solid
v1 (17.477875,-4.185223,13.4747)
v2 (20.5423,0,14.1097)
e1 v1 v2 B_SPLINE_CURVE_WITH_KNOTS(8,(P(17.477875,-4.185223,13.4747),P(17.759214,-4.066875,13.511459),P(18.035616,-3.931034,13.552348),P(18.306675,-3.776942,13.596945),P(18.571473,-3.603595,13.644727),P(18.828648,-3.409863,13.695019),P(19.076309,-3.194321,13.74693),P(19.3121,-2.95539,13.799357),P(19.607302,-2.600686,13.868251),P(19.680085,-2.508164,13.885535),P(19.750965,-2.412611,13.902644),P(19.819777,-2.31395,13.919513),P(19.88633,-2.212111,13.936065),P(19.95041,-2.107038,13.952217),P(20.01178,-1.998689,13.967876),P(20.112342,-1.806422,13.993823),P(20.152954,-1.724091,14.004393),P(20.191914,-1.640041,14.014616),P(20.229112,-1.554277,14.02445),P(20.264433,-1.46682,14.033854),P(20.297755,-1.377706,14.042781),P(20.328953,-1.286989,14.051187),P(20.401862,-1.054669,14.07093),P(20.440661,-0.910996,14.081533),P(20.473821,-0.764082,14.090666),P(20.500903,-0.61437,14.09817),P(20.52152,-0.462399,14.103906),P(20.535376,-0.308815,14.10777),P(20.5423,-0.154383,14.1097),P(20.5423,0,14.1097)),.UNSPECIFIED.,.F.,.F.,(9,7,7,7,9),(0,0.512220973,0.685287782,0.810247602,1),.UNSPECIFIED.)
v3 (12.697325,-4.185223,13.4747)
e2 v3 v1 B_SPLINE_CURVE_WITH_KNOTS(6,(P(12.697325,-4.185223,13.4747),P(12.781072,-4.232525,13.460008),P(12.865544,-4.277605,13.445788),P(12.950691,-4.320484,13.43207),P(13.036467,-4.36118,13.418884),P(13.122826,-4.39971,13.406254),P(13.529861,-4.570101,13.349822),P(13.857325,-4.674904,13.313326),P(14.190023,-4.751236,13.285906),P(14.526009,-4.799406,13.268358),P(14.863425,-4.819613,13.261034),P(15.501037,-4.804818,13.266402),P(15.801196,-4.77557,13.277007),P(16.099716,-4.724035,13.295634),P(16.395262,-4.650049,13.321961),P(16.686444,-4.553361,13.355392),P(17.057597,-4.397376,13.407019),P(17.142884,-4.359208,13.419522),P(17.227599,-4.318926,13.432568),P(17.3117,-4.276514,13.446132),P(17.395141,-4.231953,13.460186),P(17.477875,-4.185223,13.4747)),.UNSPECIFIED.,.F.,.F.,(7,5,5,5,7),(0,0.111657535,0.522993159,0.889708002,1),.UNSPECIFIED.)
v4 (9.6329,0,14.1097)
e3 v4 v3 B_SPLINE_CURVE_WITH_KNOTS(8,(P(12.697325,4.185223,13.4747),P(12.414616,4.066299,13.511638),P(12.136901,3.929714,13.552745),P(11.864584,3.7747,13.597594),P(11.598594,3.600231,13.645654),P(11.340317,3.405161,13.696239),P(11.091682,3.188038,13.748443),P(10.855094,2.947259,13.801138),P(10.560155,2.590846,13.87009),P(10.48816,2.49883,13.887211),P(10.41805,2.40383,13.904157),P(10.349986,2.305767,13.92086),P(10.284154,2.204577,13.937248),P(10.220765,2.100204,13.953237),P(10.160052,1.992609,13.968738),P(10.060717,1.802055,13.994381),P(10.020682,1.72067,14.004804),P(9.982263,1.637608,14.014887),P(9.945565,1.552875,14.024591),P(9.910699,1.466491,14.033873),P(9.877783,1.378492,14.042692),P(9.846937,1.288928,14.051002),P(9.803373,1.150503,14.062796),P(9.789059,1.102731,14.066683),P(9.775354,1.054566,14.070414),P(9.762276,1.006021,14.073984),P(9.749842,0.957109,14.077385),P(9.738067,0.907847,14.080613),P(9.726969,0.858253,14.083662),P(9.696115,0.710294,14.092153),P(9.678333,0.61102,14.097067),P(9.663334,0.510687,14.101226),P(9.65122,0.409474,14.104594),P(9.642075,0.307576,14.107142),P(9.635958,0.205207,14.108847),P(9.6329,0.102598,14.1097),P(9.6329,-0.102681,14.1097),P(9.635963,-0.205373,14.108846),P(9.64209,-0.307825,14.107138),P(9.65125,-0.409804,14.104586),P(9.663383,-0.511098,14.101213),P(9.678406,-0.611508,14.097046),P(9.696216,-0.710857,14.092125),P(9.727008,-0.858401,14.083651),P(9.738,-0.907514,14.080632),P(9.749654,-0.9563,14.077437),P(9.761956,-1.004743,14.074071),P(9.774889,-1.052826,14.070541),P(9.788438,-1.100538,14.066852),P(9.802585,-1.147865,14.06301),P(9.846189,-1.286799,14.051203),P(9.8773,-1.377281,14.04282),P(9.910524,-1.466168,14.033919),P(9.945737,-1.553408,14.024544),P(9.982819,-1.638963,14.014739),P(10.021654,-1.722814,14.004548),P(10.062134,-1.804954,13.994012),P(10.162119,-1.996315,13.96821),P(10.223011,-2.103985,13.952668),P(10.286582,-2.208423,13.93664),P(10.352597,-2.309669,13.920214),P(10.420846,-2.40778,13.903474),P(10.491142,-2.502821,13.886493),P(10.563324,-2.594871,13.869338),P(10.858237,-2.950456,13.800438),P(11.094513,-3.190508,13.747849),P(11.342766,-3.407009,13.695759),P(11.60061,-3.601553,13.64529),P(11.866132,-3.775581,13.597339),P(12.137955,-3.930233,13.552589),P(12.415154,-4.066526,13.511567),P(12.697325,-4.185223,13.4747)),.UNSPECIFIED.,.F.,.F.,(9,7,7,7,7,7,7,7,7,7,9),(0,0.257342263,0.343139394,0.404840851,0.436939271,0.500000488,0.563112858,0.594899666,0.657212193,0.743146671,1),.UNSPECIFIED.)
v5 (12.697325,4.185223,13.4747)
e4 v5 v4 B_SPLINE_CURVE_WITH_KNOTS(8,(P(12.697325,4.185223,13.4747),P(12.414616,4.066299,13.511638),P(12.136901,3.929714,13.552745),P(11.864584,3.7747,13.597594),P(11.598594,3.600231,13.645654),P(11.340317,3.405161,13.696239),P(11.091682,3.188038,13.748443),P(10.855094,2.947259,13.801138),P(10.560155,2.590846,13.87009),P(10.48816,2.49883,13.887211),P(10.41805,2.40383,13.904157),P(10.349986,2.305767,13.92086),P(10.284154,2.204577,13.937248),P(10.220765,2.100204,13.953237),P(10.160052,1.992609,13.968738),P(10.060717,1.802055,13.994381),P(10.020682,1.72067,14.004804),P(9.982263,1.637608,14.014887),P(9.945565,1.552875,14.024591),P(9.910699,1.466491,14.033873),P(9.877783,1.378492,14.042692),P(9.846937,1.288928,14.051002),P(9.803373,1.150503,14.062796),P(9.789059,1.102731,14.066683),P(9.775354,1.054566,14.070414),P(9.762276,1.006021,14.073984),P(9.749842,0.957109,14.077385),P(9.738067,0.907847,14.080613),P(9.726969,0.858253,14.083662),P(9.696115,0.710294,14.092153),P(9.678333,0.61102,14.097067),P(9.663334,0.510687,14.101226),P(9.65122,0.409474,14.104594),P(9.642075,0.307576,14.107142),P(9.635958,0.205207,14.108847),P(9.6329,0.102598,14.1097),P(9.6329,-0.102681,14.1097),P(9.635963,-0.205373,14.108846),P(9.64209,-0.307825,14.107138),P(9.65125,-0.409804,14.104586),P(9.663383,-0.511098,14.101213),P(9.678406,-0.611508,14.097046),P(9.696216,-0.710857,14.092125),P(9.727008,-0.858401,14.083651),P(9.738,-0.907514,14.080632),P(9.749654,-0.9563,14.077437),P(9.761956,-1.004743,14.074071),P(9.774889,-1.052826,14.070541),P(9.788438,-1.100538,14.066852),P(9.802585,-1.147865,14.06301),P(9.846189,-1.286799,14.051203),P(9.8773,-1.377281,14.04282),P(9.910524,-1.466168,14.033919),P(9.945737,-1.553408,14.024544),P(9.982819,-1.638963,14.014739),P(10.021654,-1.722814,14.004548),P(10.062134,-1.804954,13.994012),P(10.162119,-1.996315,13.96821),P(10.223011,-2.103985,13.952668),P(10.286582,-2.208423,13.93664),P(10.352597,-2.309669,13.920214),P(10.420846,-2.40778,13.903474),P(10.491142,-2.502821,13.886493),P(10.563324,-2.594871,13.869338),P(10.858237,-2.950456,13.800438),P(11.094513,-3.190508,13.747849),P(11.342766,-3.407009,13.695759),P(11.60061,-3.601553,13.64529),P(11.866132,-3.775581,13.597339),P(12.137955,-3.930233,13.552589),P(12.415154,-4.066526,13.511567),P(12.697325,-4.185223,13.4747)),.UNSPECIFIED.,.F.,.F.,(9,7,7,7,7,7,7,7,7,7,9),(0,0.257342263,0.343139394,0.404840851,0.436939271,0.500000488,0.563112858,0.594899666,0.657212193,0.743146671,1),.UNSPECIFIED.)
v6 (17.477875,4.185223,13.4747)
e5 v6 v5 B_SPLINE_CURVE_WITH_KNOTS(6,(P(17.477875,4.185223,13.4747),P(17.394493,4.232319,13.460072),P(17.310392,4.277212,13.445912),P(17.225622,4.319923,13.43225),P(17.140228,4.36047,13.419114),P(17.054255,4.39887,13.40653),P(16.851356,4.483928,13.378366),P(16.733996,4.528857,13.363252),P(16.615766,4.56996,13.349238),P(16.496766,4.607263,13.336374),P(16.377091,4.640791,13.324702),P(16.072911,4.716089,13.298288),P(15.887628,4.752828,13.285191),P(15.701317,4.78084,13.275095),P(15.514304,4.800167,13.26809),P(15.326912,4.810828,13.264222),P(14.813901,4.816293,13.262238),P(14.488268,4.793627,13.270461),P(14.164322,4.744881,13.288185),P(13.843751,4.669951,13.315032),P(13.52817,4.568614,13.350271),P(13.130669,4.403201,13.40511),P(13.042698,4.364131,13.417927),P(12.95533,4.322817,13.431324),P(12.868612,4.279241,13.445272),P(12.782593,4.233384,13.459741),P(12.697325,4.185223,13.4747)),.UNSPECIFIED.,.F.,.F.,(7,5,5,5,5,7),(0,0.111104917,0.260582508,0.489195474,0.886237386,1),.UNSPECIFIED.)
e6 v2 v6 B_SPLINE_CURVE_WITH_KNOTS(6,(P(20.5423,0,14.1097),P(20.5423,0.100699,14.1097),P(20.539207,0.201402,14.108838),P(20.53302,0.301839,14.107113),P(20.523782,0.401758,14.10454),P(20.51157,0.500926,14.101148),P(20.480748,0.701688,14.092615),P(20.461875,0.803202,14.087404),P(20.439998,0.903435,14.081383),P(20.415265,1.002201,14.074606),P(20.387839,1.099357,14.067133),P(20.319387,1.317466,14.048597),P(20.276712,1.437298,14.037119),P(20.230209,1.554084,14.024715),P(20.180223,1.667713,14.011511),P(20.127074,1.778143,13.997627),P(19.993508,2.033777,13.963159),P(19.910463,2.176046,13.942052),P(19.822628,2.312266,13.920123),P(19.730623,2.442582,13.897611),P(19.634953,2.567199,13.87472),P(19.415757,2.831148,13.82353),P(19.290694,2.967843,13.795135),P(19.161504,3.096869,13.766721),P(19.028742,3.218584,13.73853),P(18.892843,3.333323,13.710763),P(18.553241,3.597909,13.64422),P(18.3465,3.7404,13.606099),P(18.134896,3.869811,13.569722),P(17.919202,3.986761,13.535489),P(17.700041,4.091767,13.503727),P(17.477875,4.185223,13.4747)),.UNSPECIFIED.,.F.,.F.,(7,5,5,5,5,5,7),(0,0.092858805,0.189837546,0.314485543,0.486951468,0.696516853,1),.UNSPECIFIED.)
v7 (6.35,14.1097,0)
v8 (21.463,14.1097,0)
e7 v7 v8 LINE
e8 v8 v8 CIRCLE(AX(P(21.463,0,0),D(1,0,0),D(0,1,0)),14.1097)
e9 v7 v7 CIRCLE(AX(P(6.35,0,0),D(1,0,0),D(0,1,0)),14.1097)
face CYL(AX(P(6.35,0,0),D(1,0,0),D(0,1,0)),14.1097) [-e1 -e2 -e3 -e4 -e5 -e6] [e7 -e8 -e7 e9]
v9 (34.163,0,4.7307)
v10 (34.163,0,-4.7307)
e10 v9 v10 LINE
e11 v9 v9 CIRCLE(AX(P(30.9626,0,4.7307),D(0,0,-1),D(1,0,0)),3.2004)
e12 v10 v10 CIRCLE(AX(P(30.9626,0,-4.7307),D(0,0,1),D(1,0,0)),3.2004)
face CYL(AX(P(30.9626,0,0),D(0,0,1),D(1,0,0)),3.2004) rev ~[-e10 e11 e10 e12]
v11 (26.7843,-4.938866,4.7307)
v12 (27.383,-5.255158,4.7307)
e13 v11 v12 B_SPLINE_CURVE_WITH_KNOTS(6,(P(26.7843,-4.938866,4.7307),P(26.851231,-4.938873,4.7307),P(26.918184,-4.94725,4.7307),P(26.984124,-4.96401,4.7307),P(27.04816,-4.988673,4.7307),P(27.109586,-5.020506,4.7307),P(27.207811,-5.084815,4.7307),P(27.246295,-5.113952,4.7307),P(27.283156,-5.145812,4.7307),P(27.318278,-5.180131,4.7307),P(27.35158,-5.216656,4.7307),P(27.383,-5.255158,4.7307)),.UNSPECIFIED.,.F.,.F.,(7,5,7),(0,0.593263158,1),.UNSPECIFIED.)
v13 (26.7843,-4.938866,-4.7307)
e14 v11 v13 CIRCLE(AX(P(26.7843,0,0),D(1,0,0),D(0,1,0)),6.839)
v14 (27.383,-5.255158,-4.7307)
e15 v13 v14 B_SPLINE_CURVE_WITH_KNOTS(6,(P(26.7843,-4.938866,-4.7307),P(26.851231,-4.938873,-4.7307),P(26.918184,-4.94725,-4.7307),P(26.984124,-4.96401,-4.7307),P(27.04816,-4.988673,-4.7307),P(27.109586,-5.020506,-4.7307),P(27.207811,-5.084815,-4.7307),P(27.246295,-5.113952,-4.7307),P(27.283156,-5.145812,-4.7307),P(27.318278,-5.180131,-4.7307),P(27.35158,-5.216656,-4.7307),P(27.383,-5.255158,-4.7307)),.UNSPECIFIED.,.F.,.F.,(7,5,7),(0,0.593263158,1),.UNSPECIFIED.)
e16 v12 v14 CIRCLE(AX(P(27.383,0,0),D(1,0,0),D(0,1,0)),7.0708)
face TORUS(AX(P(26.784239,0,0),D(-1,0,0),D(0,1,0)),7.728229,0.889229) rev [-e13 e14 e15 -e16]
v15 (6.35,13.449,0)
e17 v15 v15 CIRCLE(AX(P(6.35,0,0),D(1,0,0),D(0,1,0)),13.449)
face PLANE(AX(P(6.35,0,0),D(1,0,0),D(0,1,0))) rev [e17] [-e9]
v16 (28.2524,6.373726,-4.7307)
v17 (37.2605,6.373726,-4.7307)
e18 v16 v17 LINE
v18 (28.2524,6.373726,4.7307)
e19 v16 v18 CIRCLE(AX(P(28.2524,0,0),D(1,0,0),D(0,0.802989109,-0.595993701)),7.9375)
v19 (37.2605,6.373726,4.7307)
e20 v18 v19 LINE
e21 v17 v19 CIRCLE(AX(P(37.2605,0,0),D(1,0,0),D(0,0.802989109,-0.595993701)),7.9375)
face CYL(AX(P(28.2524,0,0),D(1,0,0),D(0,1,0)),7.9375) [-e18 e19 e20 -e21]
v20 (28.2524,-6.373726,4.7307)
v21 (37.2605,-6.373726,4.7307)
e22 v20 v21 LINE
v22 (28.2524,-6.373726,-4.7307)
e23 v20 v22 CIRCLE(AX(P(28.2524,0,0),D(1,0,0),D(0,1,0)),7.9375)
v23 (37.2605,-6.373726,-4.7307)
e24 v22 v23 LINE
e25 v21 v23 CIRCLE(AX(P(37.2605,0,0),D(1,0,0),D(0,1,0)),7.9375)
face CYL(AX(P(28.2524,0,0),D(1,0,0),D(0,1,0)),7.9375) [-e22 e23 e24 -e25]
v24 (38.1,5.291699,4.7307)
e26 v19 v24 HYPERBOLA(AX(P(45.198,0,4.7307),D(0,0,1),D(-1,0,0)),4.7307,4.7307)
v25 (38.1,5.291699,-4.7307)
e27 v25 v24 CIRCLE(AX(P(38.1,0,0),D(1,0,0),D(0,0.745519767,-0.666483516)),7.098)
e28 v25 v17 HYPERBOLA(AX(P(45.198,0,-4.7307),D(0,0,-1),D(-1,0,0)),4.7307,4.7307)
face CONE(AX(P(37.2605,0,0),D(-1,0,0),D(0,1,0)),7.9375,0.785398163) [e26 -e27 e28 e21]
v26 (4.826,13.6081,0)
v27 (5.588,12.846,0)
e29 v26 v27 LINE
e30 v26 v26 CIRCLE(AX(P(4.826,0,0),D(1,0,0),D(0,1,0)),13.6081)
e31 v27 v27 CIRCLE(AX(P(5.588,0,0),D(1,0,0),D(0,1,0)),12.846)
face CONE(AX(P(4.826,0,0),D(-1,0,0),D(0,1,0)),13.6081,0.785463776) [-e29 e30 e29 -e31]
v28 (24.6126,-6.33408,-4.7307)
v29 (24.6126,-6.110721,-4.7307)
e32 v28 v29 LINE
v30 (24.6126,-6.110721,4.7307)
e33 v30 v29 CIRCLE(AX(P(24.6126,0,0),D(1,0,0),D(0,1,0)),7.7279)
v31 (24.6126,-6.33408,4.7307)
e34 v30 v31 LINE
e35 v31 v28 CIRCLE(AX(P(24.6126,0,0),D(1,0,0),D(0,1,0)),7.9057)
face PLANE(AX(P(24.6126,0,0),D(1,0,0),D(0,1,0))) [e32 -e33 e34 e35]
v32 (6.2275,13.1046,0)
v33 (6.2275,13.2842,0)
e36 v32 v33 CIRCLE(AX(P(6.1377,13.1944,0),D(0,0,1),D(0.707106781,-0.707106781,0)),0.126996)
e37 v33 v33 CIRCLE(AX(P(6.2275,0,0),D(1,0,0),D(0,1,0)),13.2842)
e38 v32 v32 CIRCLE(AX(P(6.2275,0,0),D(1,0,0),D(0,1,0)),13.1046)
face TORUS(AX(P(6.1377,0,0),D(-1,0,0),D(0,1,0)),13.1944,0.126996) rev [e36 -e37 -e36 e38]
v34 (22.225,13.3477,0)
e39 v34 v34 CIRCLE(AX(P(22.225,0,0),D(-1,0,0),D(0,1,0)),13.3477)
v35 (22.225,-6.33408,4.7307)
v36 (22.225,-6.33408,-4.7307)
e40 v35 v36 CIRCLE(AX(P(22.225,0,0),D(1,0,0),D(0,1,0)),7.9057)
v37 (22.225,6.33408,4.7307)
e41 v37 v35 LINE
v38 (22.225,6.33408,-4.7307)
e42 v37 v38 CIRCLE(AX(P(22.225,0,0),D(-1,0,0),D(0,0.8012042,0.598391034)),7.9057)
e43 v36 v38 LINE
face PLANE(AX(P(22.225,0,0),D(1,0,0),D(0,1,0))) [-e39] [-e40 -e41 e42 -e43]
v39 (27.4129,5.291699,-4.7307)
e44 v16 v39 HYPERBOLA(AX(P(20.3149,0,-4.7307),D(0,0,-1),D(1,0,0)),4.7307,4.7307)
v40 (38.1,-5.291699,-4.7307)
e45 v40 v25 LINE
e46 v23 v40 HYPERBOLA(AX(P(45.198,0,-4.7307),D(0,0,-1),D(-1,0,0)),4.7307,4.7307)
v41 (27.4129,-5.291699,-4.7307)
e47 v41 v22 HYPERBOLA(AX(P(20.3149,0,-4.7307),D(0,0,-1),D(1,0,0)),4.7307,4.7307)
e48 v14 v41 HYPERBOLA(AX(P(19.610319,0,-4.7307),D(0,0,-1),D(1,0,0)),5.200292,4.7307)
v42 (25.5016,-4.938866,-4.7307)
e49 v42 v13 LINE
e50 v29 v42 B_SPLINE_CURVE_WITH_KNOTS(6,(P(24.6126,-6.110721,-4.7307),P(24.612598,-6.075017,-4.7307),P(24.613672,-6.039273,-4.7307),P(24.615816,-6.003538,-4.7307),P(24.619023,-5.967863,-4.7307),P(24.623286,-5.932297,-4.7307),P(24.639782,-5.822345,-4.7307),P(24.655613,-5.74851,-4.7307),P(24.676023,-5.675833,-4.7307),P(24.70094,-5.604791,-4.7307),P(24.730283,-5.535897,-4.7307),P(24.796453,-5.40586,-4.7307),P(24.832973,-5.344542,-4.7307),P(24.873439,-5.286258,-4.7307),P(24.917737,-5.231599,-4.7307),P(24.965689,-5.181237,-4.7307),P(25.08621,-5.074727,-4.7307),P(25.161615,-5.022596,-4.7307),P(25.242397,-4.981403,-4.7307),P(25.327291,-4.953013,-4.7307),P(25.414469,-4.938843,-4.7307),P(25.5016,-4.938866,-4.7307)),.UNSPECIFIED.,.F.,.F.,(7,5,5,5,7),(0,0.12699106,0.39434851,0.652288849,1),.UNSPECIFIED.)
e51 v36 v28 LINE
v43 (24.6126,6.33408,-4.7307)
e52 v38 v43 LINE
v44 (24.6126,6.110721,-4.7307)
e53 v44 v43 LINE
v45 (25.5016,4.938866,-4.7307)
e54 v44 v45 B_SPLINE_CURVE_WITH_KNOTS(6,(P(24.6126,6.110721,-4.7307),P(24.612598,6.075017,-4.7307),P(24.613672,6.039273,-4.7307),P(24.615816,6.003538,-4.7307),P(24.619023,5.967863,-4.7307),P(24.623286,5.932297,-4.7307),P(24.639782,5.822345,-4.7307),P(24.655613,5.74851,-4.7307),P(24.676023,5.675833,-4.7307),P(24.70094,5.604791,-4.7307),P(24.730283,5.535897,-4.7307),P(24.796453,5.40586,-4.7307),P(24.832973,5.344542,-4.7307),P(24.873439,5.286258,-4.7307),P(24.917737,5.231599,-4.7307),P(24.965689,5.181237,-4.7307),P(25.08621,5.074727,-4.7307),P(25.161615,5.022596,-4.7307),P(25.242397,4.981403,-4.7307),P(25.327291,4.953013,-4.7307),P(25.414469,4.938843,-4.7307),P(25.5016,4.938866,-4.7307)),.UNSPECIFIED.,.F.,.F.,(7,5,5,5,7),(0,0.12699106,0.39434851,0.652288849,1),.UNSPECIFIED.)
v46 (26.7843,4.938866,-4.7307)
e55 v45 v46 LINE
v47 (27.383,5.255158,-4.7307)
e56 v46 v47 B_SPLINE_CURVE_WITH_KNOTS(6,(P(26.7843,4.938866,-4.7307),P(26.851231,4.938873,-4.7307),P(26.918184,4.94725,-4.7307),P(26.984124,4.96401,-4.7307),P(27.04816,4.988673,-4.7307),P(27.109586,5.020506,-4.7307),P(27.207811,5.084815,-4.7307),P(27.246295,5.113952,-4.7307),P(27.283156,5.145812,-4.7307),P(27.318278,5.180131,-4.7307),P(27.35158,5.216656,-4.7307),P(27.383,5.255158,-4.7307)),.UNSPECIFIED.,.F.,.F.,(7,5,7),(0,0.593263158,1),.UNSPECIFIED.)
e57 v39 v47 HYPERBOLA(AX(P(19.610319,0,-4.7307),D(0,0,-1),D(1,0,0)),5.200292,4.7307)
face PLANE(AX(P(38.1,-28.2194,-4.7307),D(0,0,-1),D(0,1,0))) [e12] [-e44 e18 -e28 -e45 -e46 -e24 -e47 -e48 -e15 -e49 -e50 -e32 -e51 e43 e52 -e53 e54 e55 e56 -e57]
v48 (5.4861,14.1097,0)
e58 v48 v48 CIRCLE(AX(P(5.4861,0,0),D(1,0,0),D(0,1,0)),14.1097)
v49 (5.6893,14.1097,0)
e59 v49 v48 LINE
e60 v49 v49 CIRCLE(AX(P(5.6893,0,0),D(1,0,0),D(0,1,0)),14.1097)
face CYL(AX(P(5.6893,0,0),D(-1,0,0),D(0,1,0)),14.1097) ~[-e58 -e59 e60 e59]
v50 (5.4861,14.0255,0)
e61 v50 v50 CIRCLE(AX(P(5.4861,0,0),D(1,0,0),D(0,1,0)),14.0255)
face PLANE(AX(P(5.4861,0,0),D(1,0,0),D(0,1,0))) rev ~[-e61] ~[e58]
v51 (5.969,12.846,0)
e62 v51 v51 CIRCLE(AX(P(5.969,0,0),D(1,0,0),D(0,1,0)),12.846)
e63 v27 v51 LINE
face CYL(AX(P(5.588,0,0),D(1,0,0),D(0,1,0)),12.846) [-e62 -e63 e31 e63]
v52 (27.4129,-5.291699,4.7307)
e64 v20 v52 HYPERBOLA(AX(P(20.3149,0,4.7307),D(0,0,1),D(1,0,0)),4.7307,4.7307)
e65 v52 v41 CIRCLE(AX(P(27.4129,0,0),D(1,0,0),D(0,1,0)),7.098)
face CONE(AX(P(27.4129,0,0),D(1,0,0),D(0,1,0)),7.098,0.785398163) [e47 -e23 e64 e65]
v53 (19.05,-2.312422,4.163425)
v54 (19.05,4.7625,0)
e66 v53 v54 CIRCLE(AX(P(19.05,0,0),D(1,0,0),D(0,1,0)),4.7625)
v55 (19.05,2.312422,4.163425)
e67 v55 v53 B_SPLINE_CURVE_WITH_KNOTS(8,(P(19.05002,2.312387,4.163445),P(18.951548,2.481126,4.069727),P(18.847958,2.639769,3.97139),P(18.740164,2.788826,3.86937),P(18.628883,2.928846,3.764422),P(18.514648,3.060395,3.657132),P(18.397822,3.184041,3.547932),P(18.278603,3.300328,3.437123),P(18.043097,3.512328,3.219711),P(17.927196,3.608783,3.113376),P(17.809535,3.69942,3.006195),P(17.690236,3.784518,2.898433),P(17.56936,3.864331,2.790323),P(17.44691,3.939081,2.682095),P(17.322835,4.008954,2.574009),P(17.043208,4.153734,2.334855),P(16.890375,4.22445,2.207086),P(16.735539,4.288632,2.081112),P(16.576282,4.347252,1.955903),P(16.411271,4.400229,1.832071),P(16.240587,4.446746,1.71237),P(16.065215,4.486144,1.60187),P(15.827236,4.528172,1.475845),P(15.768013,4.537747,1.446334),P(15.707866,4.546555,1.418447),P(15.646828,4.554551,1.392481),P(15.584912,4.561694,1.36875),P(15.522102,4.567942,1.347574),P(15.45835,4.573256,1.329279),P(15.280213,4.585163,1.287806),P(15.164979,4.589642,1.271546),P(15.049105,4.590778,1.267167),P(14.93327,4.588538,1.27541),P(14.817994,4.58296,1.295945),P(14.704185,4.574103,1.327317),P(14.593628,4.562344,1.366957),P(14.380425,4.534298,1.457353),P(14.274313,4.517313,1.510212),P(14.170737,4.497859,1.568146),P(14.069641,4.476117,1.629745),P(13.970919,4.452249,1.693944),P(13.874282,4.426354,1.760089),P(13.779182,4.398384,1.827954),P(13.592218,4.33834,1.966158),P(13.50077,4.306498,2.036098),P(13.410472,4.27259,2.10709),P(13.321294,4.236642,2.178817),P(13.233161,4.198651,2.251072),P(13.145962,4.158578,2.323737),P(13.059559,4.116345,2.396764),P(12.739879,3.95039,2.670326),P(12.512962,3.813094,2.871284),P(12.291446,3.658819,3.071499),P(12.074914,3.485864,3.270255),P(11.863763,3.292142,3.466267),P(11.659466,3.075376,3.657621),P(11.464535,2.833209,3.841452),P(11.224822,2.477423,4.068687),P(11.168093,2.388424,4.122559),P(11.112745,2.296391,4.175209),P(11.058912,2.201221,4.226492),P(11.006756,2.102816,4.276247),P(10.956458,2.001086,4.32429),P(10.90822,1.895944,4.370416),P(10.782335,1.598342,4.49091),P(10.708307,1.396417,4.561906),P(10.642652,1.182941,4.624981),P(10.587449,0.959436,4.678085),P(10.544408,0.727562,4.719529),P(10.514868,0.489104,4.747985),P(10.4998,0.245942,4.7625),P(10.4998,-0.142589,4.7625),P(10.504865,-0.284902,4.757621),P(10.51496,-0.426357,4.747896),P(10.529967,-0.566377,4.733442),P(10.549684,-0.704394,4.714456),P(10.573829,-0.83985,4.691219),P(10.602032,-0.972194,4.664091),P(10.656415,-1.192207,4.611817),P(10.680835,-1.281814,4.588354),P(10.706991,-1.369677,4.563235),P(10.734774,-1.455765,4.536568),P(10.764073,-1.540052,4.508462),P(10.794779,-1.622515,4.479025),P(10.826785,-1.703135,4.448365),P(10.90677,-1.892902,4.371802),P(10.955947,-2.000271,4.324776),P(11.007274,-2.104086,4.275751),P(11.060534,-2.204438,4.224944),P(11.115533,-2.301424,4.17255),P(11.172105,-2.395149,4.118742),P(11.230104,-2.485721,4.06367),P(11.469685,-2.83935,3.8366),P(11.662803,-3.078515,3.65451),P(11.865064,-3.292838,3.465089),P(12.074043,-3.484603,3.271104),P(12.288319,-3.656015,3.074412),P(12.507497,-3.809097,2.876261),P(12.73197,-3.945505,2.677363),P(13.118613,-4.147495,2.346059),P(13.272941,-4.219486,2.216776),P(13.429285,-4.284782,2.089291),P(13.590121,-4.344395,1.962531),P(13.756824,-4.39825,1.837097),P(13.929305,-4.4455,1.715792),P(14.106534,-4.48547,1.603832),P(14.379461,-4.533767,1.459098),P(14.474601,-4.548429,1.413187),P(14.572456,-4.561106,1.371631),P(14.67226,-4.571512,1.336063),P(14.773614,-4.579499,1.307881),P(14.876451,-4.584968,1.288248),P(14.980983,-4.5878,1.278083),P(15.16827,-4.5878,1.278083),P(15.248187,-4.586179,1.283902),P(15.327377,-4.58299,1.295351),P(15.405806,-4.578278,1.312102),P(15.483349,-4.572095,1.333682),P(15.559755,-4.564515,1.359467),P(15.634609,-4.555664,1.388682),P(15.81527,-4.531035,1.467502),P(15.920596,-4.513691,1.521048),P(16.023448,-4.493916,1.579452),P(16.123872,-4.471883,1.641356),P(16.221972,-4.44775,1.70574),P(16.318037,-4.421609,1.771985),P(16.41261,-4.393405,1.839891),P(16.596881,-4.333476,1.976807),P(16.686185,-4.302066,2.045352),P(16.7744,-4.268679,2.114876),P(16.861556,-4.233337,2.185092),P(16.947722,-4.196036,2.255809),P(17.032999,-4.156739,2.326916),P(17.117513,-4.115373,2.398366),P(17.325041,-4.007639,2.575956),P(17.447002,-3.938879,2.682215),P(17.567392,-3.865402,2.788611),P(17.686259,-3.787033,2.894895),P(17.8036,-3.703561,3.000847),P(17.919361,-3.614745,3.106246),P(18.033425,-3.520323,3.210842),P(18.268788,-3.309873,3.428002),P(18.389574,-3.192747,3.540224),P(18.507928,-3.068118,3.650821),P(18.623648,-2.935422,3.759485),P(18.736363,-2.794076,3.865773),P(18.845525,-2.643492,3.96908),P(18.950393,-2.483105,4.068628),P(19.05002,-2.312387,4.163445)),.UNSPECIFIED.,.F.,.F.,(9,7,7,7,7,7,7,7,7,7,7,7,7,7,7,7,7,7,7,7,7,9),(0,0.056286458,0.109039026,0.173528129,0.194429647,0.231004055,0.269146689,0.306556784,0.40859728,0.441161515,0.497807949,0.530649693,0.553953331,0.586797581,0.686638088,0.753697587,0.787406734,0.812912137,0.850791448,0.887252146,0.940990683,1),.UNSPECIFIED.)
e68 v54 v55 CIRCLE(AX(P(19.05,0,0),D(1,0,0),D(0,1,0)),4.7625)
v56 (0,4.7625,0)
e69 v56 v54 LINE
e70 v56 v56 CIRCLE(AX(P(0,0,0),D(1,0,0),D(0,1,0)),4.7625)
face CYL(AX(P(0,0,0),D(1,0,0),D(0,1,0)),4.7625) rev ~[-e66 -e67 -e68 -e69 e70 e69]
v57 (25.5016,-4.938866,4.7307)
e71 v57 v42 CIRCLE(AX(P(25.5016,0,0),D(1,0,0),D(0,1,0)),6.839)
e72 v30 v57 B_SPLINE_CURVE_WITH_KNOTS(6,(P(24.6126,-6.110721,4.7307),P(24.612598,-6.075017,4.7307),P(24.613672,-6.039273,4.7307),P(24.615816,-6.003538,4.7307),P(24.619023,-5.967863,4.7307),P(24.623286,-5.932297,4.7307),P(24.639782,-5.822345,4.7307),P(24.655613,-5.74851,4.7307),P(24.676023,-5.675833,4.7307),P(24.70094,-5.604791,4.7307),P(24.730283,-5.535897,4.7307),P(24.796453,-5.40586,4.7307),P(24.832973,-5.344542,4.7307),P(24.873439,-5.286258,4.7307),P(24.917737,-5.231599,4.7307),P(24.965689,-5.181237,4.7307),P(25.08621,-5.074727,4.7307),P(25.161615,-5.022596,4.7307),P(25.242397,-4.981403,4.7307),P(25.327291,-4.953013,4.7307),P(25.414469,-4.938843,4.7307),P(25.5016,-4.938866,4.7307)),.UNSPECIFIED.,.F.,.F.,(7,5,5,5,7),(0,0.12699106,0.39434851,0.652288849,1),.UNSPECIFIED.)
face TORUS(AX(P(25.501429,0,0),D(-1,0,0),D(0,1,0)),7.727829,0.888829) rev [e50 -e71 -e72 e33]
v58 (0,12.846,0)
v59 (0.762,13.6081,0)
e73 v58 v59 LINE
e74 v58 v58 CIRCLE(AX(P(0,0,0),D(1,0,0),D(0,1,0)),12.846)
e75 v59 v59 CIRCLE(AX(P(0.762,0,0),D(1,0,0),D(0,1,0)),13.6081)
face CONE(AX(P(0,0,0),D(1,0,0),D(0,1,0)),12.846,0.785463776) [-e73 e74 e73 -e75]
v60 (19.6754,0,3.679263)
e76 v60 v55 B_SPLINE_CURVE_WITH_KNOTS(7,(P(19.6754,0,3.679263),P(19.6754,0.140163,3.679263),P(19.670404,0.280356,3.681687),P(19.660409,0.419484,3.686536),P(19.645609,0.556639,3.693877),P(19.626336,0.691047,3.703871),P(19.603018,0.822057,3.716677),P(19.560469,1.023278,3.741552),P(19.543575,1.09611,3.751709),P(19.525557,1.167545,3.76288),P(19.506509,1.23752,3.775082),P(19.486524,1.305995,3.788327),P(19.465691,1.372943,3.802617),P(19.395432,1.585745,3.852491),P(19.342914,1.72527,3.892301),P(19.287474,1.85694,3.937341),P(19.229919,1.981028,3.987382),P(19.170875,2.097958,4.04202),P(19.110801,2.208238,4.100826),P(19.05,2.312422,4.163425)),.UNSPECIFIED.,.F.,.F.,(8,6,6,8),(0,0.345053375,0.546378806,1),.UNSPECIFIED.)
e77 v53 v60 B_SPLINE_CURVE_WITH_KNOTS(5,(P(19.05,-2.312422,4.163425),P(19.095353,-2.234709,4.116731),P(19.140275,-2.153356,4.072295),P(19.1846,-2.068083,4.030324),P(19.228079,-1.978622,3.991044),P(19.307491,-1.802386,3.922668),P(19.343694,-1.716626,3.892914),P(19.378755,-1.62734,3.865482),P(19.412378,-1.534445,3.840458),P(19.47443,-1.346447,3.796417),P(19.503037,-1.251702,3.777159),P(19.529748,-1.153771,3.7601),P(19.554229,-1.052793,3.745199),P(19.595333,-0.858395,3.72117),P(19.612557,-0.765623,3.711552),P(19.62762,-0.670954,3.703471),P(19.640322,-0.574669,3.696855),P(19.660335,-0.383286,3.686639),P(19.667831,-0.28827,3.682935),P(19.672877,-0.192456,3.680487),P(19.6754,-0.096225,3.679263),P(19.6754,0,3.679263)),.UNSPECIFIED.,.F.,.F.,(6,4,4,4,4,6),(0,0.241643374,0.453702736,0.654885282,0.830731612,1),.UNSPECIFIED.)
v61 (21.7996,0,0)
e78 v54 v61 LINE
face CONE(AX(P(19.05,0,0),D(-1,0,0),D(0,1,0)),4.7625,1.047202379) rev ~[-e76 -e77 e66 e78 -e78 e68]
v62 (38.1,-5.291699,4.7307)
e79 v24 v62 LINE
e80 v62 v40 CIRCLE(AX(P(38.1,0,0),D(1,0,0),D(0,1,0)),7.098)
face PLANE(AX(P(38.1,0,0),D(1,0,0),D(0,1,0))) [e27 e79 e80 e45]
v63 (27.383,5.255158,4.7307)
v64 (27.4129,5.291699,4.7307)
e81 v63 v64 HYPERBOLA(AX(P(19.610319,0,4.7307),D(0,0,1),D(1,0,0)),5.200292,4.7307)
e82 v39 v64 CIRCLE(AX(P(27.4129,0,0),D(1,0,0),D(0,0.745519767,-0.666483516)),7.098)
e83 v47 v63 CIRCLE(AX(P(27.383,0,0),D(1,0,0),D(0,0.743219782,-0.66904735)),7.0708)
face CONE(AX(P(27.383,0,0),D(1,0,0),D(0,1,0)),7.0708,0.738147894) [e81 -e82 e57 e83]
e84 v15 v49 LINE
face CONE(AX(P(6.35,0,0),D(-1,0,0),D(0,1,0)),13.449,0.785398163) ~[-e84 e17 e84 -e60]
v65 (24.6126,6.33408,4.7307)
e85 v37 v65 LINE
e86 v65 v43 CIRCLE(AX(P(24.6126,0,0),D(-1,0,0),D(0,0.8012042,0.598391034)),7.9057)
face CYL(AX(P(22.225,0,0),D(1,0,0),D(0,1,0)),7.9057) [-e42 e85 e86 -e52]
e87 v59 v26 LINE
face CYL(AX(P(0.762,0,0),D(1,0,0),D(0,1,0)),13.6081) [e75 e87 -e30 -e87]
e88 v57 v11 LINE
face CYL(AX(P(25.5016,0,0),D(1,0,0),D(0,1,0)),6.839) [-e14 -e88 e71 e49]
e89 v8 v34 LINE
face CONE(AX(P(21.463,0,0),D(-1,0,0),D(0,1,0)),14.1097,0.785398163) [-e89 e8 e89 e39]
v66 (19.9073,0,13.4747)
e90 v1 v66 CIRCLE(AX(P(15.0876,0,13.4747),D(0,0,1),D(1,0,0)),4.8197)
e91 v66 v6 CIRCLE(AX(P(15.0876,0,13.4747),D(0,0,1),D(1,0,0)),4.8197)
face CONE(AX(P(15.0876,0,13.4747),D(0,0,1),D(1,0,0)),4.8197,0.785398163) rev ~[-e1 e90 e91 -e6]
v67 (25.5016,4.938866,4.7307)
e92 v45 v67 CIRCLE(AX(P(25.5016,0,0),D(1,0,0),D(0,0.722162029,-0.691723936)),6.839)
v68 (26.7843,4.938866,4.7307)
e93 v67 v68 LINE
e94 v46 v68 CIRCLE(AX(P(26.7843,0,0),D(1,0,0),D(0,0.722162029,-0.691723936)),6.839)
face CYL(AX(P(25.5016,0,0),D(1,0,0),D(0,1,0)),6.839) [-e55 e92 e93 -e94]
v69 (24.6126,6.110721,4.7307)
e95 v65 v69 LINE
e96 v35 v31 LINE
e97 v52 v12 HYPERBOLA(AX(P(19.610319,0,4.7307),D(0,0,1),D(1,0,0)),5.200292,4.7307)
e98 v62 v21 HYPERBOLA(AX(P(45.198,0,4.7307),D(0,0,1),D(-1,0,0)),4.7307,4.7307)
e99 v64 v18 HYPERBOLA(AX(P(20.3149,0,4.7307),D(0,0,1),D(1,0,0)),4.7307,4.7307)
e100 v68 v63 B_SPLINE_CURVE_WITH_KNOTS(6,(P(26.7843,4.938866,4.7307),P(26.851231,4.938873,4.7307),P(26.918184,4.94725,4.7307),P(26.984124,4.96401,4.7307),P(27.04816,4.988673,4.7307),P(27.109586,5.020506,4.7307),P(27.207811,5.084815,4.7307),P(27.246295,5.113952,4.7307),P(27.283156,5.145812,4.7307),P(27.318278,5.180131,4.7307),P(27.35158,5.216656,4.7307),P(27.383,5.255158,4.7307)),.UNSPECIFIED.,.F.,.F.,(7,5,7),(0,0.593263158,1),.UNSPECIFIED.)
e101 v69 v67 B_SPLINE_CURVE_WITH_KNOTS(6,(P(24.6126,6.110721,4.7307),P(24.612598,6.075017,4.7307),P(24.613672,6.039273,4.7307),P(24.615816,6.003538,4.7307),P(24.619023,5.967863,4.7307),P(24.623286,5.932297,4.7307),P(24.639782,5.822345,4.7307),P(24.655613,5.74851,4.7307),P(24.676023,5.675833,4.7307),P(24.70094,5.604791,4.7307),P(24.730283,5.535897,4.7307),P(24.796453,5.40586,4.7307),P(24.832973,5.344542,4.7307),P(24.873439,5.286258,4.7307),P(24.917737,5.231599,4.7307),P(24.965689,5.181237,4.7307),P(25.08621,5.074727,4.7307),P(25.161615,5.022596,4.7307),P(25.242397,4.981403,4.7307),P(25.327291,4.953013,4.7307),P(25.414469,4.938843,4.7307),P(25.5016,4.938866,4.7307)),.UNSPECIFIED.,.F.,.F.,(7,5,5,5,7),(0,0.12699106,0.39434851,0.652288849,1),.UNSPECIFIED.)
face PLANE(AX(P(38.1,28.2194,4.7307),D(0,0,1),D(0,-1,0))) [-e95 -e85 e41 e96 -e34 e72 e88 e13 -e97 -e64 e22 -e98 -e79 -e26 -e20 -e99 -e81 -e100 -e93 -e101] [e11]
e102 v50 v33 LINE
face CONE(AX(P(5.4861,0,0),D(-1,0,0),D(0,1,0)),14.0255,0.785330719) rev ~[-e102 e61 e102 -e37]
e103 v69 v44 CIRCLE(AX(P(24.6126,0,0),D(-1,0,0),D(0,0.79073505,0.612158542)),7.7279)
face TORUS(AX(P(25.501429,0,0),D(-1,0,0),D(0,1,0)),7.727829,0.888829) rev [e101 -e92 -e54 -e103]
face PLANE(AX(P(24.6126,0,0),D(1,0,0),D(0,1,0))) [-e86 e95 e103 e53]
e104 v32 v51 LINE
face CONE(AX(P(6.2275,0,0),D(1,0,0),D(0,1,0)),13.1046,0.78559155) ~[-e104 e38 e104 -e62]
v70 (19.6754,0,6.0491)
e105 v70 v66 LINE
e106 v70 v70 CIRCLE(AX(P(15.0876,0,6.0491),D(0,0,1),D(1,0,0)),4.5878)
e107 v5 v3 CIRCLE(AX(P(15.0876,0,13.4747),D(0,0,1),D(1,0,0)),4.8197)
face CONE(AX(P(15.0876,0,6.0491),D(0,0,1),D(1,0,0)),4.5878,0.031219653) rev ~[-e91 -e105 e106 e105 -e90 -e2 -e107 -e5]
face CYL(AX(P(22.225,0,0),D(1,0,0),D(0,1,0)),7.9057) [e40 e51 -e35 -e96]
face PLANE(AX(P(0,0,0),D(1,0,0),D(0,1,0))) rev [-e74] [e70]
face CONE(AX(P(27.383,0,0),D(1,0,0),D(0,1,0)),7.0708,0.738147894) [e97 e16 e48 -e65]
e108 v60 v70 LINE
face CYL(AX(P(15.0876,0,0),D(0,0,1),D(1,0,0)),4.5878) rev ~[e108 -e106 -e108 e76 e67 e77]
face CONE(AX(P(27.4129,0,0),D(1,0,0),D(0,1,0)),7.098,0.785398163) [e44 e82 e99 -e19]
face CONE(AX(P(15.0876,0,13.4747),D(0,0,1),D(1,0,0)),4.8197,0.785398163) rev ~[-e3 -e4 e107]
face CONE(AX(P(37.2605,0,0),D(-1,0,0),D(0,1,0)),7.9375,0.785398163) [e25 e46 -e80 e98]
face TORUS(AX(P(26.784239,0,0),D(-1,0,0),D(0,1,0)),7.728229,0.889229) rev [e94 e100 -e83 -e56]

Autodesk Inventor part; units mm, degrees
sketch "Sketch_18" plane through (0, 0, 0) normal (0, 0, 1) x (1, 0, 0)
  line L0 (22.225, 0) -> (0, 0)
  line L1 (0, 0) -> (0, 12.846)
  line L2 (0, 12.846) -> (0.762, 13.6081)
  line L3 (0.762, 13.6081) -> (4.826, 13.6081)
  line L4 (4.826, 13.6081) -> (5.588, 12.846)
  line L5 (5.588, 12.846) -> (6.35, 12.846)
  line L6 (6.35, 12.846) -> (6.35, 14.1097)
  line L7 (6.35, 14.1097) -> (21.463, 14.1097)
  line L8 (21.463, 14.1097) -> (22.225, 13.3477)
  line L9 (22.225, 13.3477) -> (22.225, 0)
  line L10 (22.225, 0) -> (0, 0)
revolve "Revolution1" add sketch "Sketch_18" angle 360 about axis through (22.225, 0, 0) along (1, 0, 0)
sketch "Sketch_15" plane through (0, 0, 0) normal (0, 0, 1) x (1, 0, 0)
  line L0 (38.1, 0) -> (22.225, 0)
  line L1 (22.225, 0) -> (22.225, 7.9057)
  line L2 (22.225, 7.9057) -> (24.6126, 7.9057)
  line L3 (24.6126, 7.9057) -> (24.6126, 7.7279)
  arc A0 (24.6126, 7.7279) -> (25.5016, 6.839) centre (25.5016, 7.7279) ccw
  line L4 (25.5016, 6.839) -> (26.7843, 6.839)
  arc A1 (26.7843, 6.839) -> (27.383, 7.0708) centre (26.7843, 7.7279) ccw
  line L5 (27.383, 7.0708) -> (27.4129, 7.098)
  line L6 (27.4129, 7.098) -> (28.2524, 7.9375)
  line L7 (28.2524, 7.9375) -> (37.2605, 7.9375)
  line L8 (37.2605, 7.9375) -> (38.1, 7.098)
  line L9 (38.1, 7.098) -> (38.1, 0)
  line L10 (38.1, 0) -> (22.225, 0)
revolve "Revolution2" add sketch "Sketch_15" angle 360 about axis through (38.1, 0, 0) along (1, 0, 0)
thread "Thread1" size "5/8-18 UNF" class "3A" standard "ANSI Unified Screw Threads" full length
sketch "Sketch_9" plane through (38.1, 0, 0) normal (1, 0, 0) x (0, 0, -1)
  line L0 (-28.2194, -56.4388) -> (28.2194, -56.4388)
  line L1 (28.2194, -56.4388) -> (28.2194, 56.4388)
  line L2 (28.2194, 56.4388) -> (-28.2194, 56.4388)
  line L3 (-28.2194, 56.4388) -> (-28.2194, -56.4388)
  line L4 (-4.7307, -28.2194) -> (4.7307, -28.2194)
  line L5 (4.7307, -28.2194) -> (4.7307, 28.2194)
  line L6 (4.7307, 28.2194) -> (-4.7307, 28.2194)
  line L7 (-4.7307, 28.2194) -> (-4.7307, -28.2194)
extrude "Extrusion1" cut sketch "Sketch_9" against normal blind 15.875
sketch "Sketch_13" plane through (0, 0, 0) normal (0, 0, 1) x (1, 0, 0)
  line L0 (21.7996, 0) -> (0, 0)
  line L1 (0, 0) -> (0, 4.7625)
  line L2 (0, 4.7625) -> (19.05, 4.7625)
  line L3 (19.05, 4.7625) -> (21.7996, 0)
  line L4 (21.7996, 0) -> (0, 0)
revolve "Revolution3" cut sketch "Sketch_13" angle 360 about axis through (21.7996, 0, 0) along (1, 0, 0)
sketch "Sketch_19" plane through (0, 0, 0) normal (0, 1, 0) x (-1, 0, 0)
  line L0 (-15.0876, 14.1097) -> (-15.0876, 0)
  line L1 (-15.0876, 0) -> (-19.6754, 0)
  line L2 (-19.6754, 0) -> (-19.6754, 6.0491)
  line L3 (-19.6754, 6.0491) -> (-19.9073, 13.4747)
  line L4 (-19.9073, 13.4747) -> (-20.5423, 14.1097)
  line L5 (-20.5423, 14.1097) -> (-15.0876, 14.1097)
  line L6 (-15.0876, 14.1097) -> (-15.0876, 0)
revolve "Revolution4" cut sketch "Sketch_19" angle 360 about axis through (15.0876, 0, 14.1097) along (0, 0, 1)
sketch "Sketch_24" plane through (0, 0, 0) normal (0, 0, 1) x (1, 0, 0)
  line L0 (6.35, 0) -> (5.588, 0)
  line L1 (5.4861, 14.0255) -> (6.2275, 13.2842)
  arc A0 (6.2275, 13.1046) -> (6.2275, 13.2842) centre (6.1377, 13.1944) ccw
  line L2 (6.2275, 13.1046) -> (5.969, 12.846)
  line L3 (5.969, 12.846) -> (5.588, 12.846)
  line L4 (5.588, 12.846) -> (5.588, 12.5921)
  line L5 (5.588, 12.5921) -> (6.35, 12.5921)
  line L6 (6.35, 12.5921) -> (6.35, 13.449)
  line L7 (6.35, 13.449) -> (5.6893, 14.1097)
  line L8 (5.6893, 14.1097) -> (5.4861, 14.1097)
  line L9 (5.4861, 14.1097) -> (5.4861, 14.0255)
revolve "Revolution5" add sketch "Sketch_24" angle 360 about axis through (6.35, 0, 0) along (1, 0, 0)
sketch "Sketch_43" plane through (0, 0, 0) normal (0, 0, 1) x (1, 0, 0)
  circle A0 centre (30.9626, 0) radius 3.2004
extrude "Extrusion2" cut sketch "Sketch_43" along normal mid plane 14.1922
ref_plane "c1_XY" through (22.225, 7.9057, 0) normal (0, 0, 1) x (1, 0, 0)
ref_plane "c1_YZ" through (22.225, 7.9057, 0) normal (1, 0, 0) x (0, 1, 0)
ref_plane "c1_ZX" through (22.225, 7.9057, 0) normal (0, 1, 0) x (0, 0, 1)
ref_plane "cc1_XY" through (22.225, 0, 0) normal (0, 0, 1) x (1, 0, 0)
ref_plane "cc1_YZ" through (22.225, 0, 0) normal (1, 0, 0) x (0, 1, 0)
ref_plane "cc1_ZX" through (22.225, 0, 0) normal (0, 1, 0) x (0, 0, 1)
ref_plane "c2_XY" through (22.225, -7.9057, 0) normal (0, 0, 1) x (1, 0, 0)
ref_plane "c2_YZ" through (22.225, -7.9057, 0) normal (1, 0, 0) x (0, 1, 0)
ref_plane "c2_ZX" through (22.225, -7.9057, 0) normal (0, 1, 0) x (0, 0, 1)
ref_plane "cc2_XY" through (24.6126, 0, 0) normal (0, 0, 1) x (1, 0, 0)
ref_plane "cc2_YZ" through (24.6126, 0, 0) normal (1, 0, 0) x (0, 1, 0)
ref_plane "cc2_ZX" through (24.6126, 0, 0) normal (0, 1, 0) x (0, 0, 1)
ref_plane "to_tube_XY" through (5.588, 0, 0) normal (1, 0, 0) x (0, 0, -1)
ref_plane "to_tube_YZ" through (5.588, 0, 0) normal (0, 0, -1) x (0, 1, 0)
ref_plane "to_tube_ZX" through (5.588, 0, 0) normal (0, 1, 0) x (1, 0, 0)
ref_plane "to_nut_XY" through (22.225, 0, 0) normal (1, 0, 0) x (0, 0, -1)
ref_plane "to_nut_YZ" through (22.225, 0, 0) normal (0, 0, -1) x (0, 1, 0)
ref_plane "to_nut_ZX" through (22.225, 0, 0) normal (0, 1, 0) x (1, 0, 0)
ref_plane "lovra1_XY" through (33.3248, 0, 0) normal (1, 0, 0) x (0, 0, -1)
ref_plane "lovra1_YZ" through (33.3248, 0, 0) normal (0, 0, -1) x (0, 1, 0)
ref_plane "lovra1_ZX" through (33.3248, 0, 0) normal (0, 1, 0) x (1, 0, 0)
ref_plane "lovra2_XY" through (33.3248, 11.049, 0) normal (1, 0, 0) x (0, 0, -1)
ref_plane "lovra2_YZ" through (33.3248, 11.049, 0) normal (0, 0, -1) x (0, 1, 0)
ref_plane "lovra2_ZX" through (33.3248, 11.049, 0) normal (0, 1, 0) x (1, 0, 0)
ref_plane "lovra3_XY" through (33.3248, -11.049, 0) normal (1, 0, 0) x (0, 0, -1)
ref_plane "lovra3_YZ" through (33.3248, -11.049, 0) normal (0, 0, -1) x (0, 1, 0)
ref_plane "lovra3_ZX" through (33.3248, -11.049, 0) normal (0, 1, 0) x (1, 0, 0)
ref_plane "to_pin_XY" through (30.9626, 0, 0) normal (0, 0, 1) x (1, 0, 0)
ref_plane "to_pin_YZ" through (30.9626, 0, 0) normal (1, 0, 0) x (0, 1, 0)
ref_plane "to_pin_ZX" through (30.9626, 0, 0) normal (0, 1, 0) x (0, 0, 1)
ref_plane "olen_XY" through (30.9626, 0, 0) normal (1, 0, 0) x (0, 0, -1)
ref_plane "olen_YZ" through (30.9626, 0, 0) normal (0, 0, -1) x (0, 1, 0)
ref_plane "olen_ZX" through (30.9626, 0, 0) normal (0, 1, 0) x (1, 0, 0)
ref_plane "thd1_XY" through (38.1, 0, 7.9375) normal (1, 0, 0) x (0, 0, -1)
ref_plane "thd1_YZ" through (38.1, 0, 7.9375) normal (0, 0, -1) x (0, 1, 0)
ref_plane "thd1_ZX" through (38.1, 0, 7.9375) normal (0, 1, 0) x (1, 0, 0)
ref_plane "p1_XY" through (38.1, 0, 4.7307) normal (1, 0, 0) x (0, 0, -1)
ref_plane "p1_YZ" through (38.1, 0, 4.7307) normal (0, 0, -1) x (0, 1, 0)
ref_plane "p1_ZX" through (38.1, 0, 4.7307) normal (0, 1, 0) x (1, 0, 0)
ref_plane "thd2_XY" through (38.1, 0, -7.9375) normal (1, 0, 0) x (0, 0, -1)
ref_plane "thd2_YZ" through (38.1, 0, -7.9375) normal (0, 0, -1) x (0, 1, 0)
ref_plane "thd2_ZX" through (38.1, 0, -7.9375) normal (0, 1, 0) x (1, 0, 0)
ref_plane "p2_XY" through (38.1, 0, -4.7307) normal (1, 0, 0) x (0, 0, -1)
ref_plane "p2_YZ" through (38.1, 0, -4.7307) normal (0, 0, -1) x (0, 1, 0)
ref_plane "p2_ZX" through (38.1, 0, -4.7307) normal (0, 1, 0) x (1, 0, 0)
ref_plane "port2_XY" through (38.1, 0, 0) normal (1, 0, 0) x (0, 0, -1)
ref_plane "port2_YZ" through (38.1, 0, 0) normal (0, 0, -1) x (0, 1, 0)
ref_plane "port2_ZX" through (38.1, 0, 0) normal (0, 1, 0) x (1, 0, 0)
ref_plane "port_XY" through (15.0876, 0, 0) normal (0, 0, 1) x (1, 0, 0)
ref_plane "port_YZ" through (15.0876, 0, 0) normal (1, 0, 0) x (0, 1, 0)
ref_plane "port_ZX" through (15.0876, 0, 0) normal (0, 1, 0) x (0, 0, 1)
ref_plane "1_XY" through (22.225, 0, 0) normal (1, 0, 0) x (0, 0, -1)
ref_plane "1_YZ" through (22.225, 0, 0) normal (0, 0, -1) x (0, 1, 0)
ref_plane "1_ZX" through (22.225, 0, 0) normal (0, 1, 0) x (1, 0, 0)
ref_plane "lovra21_XY" through (0, 0, 5.2705) normal (1, 0, 0) x (0, 0, -1)
ref_plane "lovra21_YZ" through (0, 0, 5.2705) normal (0, 0, -1) x (0, 1, 0)
ref_plane "lovra21_ZX" through (0, 0, 5.2705) normal (0, 1, 0) x (1, 0, 0)
ref_plane "lovra22_XY" through (0, 0, -5.2705) normal (1, 0, 0) x (0, 0, -1)
ref_plane "lovra22_YZ" through (0, 0, -5.2705) normal (0, 0, -1) x (0, 1, 0)
ref_plane "lovra22_ZX" through (0, 0, -5.2705) normal (0, 1, 0) x (1, 0, 0)
ref_plane "to_screw_XY" through (15.0876, 10.2743, -7.0612) normal (0, 1, 0) x (1, 0, 0)
ref_plane "to_screw_YZ" through (15.0876, 10.2743, -7.0612) normal (1, 0, 0) x (0, 0, -1)
ref_plane "to_screw_ZX" through (15.0876, 10.2743, -7.0612) normal (0, 0, -1) x (0, 1, 0)
ref_plane "to_mounting_bracket_XY" through (22.225, 0, 0) normal (1, 0, 0) x (0, 0, -1)
ref_plane "to_mounting_bracket_YZ" through (22.225, 0, 0) normal (0, 0, -1) x (0, 1, 0)
ref_plane "to_mounting_bracket_ZX" through (22.225, 0, 0) normal (0, 1, 0) x (1, 0, 0)
properties part number "09P0010_rear_head"
